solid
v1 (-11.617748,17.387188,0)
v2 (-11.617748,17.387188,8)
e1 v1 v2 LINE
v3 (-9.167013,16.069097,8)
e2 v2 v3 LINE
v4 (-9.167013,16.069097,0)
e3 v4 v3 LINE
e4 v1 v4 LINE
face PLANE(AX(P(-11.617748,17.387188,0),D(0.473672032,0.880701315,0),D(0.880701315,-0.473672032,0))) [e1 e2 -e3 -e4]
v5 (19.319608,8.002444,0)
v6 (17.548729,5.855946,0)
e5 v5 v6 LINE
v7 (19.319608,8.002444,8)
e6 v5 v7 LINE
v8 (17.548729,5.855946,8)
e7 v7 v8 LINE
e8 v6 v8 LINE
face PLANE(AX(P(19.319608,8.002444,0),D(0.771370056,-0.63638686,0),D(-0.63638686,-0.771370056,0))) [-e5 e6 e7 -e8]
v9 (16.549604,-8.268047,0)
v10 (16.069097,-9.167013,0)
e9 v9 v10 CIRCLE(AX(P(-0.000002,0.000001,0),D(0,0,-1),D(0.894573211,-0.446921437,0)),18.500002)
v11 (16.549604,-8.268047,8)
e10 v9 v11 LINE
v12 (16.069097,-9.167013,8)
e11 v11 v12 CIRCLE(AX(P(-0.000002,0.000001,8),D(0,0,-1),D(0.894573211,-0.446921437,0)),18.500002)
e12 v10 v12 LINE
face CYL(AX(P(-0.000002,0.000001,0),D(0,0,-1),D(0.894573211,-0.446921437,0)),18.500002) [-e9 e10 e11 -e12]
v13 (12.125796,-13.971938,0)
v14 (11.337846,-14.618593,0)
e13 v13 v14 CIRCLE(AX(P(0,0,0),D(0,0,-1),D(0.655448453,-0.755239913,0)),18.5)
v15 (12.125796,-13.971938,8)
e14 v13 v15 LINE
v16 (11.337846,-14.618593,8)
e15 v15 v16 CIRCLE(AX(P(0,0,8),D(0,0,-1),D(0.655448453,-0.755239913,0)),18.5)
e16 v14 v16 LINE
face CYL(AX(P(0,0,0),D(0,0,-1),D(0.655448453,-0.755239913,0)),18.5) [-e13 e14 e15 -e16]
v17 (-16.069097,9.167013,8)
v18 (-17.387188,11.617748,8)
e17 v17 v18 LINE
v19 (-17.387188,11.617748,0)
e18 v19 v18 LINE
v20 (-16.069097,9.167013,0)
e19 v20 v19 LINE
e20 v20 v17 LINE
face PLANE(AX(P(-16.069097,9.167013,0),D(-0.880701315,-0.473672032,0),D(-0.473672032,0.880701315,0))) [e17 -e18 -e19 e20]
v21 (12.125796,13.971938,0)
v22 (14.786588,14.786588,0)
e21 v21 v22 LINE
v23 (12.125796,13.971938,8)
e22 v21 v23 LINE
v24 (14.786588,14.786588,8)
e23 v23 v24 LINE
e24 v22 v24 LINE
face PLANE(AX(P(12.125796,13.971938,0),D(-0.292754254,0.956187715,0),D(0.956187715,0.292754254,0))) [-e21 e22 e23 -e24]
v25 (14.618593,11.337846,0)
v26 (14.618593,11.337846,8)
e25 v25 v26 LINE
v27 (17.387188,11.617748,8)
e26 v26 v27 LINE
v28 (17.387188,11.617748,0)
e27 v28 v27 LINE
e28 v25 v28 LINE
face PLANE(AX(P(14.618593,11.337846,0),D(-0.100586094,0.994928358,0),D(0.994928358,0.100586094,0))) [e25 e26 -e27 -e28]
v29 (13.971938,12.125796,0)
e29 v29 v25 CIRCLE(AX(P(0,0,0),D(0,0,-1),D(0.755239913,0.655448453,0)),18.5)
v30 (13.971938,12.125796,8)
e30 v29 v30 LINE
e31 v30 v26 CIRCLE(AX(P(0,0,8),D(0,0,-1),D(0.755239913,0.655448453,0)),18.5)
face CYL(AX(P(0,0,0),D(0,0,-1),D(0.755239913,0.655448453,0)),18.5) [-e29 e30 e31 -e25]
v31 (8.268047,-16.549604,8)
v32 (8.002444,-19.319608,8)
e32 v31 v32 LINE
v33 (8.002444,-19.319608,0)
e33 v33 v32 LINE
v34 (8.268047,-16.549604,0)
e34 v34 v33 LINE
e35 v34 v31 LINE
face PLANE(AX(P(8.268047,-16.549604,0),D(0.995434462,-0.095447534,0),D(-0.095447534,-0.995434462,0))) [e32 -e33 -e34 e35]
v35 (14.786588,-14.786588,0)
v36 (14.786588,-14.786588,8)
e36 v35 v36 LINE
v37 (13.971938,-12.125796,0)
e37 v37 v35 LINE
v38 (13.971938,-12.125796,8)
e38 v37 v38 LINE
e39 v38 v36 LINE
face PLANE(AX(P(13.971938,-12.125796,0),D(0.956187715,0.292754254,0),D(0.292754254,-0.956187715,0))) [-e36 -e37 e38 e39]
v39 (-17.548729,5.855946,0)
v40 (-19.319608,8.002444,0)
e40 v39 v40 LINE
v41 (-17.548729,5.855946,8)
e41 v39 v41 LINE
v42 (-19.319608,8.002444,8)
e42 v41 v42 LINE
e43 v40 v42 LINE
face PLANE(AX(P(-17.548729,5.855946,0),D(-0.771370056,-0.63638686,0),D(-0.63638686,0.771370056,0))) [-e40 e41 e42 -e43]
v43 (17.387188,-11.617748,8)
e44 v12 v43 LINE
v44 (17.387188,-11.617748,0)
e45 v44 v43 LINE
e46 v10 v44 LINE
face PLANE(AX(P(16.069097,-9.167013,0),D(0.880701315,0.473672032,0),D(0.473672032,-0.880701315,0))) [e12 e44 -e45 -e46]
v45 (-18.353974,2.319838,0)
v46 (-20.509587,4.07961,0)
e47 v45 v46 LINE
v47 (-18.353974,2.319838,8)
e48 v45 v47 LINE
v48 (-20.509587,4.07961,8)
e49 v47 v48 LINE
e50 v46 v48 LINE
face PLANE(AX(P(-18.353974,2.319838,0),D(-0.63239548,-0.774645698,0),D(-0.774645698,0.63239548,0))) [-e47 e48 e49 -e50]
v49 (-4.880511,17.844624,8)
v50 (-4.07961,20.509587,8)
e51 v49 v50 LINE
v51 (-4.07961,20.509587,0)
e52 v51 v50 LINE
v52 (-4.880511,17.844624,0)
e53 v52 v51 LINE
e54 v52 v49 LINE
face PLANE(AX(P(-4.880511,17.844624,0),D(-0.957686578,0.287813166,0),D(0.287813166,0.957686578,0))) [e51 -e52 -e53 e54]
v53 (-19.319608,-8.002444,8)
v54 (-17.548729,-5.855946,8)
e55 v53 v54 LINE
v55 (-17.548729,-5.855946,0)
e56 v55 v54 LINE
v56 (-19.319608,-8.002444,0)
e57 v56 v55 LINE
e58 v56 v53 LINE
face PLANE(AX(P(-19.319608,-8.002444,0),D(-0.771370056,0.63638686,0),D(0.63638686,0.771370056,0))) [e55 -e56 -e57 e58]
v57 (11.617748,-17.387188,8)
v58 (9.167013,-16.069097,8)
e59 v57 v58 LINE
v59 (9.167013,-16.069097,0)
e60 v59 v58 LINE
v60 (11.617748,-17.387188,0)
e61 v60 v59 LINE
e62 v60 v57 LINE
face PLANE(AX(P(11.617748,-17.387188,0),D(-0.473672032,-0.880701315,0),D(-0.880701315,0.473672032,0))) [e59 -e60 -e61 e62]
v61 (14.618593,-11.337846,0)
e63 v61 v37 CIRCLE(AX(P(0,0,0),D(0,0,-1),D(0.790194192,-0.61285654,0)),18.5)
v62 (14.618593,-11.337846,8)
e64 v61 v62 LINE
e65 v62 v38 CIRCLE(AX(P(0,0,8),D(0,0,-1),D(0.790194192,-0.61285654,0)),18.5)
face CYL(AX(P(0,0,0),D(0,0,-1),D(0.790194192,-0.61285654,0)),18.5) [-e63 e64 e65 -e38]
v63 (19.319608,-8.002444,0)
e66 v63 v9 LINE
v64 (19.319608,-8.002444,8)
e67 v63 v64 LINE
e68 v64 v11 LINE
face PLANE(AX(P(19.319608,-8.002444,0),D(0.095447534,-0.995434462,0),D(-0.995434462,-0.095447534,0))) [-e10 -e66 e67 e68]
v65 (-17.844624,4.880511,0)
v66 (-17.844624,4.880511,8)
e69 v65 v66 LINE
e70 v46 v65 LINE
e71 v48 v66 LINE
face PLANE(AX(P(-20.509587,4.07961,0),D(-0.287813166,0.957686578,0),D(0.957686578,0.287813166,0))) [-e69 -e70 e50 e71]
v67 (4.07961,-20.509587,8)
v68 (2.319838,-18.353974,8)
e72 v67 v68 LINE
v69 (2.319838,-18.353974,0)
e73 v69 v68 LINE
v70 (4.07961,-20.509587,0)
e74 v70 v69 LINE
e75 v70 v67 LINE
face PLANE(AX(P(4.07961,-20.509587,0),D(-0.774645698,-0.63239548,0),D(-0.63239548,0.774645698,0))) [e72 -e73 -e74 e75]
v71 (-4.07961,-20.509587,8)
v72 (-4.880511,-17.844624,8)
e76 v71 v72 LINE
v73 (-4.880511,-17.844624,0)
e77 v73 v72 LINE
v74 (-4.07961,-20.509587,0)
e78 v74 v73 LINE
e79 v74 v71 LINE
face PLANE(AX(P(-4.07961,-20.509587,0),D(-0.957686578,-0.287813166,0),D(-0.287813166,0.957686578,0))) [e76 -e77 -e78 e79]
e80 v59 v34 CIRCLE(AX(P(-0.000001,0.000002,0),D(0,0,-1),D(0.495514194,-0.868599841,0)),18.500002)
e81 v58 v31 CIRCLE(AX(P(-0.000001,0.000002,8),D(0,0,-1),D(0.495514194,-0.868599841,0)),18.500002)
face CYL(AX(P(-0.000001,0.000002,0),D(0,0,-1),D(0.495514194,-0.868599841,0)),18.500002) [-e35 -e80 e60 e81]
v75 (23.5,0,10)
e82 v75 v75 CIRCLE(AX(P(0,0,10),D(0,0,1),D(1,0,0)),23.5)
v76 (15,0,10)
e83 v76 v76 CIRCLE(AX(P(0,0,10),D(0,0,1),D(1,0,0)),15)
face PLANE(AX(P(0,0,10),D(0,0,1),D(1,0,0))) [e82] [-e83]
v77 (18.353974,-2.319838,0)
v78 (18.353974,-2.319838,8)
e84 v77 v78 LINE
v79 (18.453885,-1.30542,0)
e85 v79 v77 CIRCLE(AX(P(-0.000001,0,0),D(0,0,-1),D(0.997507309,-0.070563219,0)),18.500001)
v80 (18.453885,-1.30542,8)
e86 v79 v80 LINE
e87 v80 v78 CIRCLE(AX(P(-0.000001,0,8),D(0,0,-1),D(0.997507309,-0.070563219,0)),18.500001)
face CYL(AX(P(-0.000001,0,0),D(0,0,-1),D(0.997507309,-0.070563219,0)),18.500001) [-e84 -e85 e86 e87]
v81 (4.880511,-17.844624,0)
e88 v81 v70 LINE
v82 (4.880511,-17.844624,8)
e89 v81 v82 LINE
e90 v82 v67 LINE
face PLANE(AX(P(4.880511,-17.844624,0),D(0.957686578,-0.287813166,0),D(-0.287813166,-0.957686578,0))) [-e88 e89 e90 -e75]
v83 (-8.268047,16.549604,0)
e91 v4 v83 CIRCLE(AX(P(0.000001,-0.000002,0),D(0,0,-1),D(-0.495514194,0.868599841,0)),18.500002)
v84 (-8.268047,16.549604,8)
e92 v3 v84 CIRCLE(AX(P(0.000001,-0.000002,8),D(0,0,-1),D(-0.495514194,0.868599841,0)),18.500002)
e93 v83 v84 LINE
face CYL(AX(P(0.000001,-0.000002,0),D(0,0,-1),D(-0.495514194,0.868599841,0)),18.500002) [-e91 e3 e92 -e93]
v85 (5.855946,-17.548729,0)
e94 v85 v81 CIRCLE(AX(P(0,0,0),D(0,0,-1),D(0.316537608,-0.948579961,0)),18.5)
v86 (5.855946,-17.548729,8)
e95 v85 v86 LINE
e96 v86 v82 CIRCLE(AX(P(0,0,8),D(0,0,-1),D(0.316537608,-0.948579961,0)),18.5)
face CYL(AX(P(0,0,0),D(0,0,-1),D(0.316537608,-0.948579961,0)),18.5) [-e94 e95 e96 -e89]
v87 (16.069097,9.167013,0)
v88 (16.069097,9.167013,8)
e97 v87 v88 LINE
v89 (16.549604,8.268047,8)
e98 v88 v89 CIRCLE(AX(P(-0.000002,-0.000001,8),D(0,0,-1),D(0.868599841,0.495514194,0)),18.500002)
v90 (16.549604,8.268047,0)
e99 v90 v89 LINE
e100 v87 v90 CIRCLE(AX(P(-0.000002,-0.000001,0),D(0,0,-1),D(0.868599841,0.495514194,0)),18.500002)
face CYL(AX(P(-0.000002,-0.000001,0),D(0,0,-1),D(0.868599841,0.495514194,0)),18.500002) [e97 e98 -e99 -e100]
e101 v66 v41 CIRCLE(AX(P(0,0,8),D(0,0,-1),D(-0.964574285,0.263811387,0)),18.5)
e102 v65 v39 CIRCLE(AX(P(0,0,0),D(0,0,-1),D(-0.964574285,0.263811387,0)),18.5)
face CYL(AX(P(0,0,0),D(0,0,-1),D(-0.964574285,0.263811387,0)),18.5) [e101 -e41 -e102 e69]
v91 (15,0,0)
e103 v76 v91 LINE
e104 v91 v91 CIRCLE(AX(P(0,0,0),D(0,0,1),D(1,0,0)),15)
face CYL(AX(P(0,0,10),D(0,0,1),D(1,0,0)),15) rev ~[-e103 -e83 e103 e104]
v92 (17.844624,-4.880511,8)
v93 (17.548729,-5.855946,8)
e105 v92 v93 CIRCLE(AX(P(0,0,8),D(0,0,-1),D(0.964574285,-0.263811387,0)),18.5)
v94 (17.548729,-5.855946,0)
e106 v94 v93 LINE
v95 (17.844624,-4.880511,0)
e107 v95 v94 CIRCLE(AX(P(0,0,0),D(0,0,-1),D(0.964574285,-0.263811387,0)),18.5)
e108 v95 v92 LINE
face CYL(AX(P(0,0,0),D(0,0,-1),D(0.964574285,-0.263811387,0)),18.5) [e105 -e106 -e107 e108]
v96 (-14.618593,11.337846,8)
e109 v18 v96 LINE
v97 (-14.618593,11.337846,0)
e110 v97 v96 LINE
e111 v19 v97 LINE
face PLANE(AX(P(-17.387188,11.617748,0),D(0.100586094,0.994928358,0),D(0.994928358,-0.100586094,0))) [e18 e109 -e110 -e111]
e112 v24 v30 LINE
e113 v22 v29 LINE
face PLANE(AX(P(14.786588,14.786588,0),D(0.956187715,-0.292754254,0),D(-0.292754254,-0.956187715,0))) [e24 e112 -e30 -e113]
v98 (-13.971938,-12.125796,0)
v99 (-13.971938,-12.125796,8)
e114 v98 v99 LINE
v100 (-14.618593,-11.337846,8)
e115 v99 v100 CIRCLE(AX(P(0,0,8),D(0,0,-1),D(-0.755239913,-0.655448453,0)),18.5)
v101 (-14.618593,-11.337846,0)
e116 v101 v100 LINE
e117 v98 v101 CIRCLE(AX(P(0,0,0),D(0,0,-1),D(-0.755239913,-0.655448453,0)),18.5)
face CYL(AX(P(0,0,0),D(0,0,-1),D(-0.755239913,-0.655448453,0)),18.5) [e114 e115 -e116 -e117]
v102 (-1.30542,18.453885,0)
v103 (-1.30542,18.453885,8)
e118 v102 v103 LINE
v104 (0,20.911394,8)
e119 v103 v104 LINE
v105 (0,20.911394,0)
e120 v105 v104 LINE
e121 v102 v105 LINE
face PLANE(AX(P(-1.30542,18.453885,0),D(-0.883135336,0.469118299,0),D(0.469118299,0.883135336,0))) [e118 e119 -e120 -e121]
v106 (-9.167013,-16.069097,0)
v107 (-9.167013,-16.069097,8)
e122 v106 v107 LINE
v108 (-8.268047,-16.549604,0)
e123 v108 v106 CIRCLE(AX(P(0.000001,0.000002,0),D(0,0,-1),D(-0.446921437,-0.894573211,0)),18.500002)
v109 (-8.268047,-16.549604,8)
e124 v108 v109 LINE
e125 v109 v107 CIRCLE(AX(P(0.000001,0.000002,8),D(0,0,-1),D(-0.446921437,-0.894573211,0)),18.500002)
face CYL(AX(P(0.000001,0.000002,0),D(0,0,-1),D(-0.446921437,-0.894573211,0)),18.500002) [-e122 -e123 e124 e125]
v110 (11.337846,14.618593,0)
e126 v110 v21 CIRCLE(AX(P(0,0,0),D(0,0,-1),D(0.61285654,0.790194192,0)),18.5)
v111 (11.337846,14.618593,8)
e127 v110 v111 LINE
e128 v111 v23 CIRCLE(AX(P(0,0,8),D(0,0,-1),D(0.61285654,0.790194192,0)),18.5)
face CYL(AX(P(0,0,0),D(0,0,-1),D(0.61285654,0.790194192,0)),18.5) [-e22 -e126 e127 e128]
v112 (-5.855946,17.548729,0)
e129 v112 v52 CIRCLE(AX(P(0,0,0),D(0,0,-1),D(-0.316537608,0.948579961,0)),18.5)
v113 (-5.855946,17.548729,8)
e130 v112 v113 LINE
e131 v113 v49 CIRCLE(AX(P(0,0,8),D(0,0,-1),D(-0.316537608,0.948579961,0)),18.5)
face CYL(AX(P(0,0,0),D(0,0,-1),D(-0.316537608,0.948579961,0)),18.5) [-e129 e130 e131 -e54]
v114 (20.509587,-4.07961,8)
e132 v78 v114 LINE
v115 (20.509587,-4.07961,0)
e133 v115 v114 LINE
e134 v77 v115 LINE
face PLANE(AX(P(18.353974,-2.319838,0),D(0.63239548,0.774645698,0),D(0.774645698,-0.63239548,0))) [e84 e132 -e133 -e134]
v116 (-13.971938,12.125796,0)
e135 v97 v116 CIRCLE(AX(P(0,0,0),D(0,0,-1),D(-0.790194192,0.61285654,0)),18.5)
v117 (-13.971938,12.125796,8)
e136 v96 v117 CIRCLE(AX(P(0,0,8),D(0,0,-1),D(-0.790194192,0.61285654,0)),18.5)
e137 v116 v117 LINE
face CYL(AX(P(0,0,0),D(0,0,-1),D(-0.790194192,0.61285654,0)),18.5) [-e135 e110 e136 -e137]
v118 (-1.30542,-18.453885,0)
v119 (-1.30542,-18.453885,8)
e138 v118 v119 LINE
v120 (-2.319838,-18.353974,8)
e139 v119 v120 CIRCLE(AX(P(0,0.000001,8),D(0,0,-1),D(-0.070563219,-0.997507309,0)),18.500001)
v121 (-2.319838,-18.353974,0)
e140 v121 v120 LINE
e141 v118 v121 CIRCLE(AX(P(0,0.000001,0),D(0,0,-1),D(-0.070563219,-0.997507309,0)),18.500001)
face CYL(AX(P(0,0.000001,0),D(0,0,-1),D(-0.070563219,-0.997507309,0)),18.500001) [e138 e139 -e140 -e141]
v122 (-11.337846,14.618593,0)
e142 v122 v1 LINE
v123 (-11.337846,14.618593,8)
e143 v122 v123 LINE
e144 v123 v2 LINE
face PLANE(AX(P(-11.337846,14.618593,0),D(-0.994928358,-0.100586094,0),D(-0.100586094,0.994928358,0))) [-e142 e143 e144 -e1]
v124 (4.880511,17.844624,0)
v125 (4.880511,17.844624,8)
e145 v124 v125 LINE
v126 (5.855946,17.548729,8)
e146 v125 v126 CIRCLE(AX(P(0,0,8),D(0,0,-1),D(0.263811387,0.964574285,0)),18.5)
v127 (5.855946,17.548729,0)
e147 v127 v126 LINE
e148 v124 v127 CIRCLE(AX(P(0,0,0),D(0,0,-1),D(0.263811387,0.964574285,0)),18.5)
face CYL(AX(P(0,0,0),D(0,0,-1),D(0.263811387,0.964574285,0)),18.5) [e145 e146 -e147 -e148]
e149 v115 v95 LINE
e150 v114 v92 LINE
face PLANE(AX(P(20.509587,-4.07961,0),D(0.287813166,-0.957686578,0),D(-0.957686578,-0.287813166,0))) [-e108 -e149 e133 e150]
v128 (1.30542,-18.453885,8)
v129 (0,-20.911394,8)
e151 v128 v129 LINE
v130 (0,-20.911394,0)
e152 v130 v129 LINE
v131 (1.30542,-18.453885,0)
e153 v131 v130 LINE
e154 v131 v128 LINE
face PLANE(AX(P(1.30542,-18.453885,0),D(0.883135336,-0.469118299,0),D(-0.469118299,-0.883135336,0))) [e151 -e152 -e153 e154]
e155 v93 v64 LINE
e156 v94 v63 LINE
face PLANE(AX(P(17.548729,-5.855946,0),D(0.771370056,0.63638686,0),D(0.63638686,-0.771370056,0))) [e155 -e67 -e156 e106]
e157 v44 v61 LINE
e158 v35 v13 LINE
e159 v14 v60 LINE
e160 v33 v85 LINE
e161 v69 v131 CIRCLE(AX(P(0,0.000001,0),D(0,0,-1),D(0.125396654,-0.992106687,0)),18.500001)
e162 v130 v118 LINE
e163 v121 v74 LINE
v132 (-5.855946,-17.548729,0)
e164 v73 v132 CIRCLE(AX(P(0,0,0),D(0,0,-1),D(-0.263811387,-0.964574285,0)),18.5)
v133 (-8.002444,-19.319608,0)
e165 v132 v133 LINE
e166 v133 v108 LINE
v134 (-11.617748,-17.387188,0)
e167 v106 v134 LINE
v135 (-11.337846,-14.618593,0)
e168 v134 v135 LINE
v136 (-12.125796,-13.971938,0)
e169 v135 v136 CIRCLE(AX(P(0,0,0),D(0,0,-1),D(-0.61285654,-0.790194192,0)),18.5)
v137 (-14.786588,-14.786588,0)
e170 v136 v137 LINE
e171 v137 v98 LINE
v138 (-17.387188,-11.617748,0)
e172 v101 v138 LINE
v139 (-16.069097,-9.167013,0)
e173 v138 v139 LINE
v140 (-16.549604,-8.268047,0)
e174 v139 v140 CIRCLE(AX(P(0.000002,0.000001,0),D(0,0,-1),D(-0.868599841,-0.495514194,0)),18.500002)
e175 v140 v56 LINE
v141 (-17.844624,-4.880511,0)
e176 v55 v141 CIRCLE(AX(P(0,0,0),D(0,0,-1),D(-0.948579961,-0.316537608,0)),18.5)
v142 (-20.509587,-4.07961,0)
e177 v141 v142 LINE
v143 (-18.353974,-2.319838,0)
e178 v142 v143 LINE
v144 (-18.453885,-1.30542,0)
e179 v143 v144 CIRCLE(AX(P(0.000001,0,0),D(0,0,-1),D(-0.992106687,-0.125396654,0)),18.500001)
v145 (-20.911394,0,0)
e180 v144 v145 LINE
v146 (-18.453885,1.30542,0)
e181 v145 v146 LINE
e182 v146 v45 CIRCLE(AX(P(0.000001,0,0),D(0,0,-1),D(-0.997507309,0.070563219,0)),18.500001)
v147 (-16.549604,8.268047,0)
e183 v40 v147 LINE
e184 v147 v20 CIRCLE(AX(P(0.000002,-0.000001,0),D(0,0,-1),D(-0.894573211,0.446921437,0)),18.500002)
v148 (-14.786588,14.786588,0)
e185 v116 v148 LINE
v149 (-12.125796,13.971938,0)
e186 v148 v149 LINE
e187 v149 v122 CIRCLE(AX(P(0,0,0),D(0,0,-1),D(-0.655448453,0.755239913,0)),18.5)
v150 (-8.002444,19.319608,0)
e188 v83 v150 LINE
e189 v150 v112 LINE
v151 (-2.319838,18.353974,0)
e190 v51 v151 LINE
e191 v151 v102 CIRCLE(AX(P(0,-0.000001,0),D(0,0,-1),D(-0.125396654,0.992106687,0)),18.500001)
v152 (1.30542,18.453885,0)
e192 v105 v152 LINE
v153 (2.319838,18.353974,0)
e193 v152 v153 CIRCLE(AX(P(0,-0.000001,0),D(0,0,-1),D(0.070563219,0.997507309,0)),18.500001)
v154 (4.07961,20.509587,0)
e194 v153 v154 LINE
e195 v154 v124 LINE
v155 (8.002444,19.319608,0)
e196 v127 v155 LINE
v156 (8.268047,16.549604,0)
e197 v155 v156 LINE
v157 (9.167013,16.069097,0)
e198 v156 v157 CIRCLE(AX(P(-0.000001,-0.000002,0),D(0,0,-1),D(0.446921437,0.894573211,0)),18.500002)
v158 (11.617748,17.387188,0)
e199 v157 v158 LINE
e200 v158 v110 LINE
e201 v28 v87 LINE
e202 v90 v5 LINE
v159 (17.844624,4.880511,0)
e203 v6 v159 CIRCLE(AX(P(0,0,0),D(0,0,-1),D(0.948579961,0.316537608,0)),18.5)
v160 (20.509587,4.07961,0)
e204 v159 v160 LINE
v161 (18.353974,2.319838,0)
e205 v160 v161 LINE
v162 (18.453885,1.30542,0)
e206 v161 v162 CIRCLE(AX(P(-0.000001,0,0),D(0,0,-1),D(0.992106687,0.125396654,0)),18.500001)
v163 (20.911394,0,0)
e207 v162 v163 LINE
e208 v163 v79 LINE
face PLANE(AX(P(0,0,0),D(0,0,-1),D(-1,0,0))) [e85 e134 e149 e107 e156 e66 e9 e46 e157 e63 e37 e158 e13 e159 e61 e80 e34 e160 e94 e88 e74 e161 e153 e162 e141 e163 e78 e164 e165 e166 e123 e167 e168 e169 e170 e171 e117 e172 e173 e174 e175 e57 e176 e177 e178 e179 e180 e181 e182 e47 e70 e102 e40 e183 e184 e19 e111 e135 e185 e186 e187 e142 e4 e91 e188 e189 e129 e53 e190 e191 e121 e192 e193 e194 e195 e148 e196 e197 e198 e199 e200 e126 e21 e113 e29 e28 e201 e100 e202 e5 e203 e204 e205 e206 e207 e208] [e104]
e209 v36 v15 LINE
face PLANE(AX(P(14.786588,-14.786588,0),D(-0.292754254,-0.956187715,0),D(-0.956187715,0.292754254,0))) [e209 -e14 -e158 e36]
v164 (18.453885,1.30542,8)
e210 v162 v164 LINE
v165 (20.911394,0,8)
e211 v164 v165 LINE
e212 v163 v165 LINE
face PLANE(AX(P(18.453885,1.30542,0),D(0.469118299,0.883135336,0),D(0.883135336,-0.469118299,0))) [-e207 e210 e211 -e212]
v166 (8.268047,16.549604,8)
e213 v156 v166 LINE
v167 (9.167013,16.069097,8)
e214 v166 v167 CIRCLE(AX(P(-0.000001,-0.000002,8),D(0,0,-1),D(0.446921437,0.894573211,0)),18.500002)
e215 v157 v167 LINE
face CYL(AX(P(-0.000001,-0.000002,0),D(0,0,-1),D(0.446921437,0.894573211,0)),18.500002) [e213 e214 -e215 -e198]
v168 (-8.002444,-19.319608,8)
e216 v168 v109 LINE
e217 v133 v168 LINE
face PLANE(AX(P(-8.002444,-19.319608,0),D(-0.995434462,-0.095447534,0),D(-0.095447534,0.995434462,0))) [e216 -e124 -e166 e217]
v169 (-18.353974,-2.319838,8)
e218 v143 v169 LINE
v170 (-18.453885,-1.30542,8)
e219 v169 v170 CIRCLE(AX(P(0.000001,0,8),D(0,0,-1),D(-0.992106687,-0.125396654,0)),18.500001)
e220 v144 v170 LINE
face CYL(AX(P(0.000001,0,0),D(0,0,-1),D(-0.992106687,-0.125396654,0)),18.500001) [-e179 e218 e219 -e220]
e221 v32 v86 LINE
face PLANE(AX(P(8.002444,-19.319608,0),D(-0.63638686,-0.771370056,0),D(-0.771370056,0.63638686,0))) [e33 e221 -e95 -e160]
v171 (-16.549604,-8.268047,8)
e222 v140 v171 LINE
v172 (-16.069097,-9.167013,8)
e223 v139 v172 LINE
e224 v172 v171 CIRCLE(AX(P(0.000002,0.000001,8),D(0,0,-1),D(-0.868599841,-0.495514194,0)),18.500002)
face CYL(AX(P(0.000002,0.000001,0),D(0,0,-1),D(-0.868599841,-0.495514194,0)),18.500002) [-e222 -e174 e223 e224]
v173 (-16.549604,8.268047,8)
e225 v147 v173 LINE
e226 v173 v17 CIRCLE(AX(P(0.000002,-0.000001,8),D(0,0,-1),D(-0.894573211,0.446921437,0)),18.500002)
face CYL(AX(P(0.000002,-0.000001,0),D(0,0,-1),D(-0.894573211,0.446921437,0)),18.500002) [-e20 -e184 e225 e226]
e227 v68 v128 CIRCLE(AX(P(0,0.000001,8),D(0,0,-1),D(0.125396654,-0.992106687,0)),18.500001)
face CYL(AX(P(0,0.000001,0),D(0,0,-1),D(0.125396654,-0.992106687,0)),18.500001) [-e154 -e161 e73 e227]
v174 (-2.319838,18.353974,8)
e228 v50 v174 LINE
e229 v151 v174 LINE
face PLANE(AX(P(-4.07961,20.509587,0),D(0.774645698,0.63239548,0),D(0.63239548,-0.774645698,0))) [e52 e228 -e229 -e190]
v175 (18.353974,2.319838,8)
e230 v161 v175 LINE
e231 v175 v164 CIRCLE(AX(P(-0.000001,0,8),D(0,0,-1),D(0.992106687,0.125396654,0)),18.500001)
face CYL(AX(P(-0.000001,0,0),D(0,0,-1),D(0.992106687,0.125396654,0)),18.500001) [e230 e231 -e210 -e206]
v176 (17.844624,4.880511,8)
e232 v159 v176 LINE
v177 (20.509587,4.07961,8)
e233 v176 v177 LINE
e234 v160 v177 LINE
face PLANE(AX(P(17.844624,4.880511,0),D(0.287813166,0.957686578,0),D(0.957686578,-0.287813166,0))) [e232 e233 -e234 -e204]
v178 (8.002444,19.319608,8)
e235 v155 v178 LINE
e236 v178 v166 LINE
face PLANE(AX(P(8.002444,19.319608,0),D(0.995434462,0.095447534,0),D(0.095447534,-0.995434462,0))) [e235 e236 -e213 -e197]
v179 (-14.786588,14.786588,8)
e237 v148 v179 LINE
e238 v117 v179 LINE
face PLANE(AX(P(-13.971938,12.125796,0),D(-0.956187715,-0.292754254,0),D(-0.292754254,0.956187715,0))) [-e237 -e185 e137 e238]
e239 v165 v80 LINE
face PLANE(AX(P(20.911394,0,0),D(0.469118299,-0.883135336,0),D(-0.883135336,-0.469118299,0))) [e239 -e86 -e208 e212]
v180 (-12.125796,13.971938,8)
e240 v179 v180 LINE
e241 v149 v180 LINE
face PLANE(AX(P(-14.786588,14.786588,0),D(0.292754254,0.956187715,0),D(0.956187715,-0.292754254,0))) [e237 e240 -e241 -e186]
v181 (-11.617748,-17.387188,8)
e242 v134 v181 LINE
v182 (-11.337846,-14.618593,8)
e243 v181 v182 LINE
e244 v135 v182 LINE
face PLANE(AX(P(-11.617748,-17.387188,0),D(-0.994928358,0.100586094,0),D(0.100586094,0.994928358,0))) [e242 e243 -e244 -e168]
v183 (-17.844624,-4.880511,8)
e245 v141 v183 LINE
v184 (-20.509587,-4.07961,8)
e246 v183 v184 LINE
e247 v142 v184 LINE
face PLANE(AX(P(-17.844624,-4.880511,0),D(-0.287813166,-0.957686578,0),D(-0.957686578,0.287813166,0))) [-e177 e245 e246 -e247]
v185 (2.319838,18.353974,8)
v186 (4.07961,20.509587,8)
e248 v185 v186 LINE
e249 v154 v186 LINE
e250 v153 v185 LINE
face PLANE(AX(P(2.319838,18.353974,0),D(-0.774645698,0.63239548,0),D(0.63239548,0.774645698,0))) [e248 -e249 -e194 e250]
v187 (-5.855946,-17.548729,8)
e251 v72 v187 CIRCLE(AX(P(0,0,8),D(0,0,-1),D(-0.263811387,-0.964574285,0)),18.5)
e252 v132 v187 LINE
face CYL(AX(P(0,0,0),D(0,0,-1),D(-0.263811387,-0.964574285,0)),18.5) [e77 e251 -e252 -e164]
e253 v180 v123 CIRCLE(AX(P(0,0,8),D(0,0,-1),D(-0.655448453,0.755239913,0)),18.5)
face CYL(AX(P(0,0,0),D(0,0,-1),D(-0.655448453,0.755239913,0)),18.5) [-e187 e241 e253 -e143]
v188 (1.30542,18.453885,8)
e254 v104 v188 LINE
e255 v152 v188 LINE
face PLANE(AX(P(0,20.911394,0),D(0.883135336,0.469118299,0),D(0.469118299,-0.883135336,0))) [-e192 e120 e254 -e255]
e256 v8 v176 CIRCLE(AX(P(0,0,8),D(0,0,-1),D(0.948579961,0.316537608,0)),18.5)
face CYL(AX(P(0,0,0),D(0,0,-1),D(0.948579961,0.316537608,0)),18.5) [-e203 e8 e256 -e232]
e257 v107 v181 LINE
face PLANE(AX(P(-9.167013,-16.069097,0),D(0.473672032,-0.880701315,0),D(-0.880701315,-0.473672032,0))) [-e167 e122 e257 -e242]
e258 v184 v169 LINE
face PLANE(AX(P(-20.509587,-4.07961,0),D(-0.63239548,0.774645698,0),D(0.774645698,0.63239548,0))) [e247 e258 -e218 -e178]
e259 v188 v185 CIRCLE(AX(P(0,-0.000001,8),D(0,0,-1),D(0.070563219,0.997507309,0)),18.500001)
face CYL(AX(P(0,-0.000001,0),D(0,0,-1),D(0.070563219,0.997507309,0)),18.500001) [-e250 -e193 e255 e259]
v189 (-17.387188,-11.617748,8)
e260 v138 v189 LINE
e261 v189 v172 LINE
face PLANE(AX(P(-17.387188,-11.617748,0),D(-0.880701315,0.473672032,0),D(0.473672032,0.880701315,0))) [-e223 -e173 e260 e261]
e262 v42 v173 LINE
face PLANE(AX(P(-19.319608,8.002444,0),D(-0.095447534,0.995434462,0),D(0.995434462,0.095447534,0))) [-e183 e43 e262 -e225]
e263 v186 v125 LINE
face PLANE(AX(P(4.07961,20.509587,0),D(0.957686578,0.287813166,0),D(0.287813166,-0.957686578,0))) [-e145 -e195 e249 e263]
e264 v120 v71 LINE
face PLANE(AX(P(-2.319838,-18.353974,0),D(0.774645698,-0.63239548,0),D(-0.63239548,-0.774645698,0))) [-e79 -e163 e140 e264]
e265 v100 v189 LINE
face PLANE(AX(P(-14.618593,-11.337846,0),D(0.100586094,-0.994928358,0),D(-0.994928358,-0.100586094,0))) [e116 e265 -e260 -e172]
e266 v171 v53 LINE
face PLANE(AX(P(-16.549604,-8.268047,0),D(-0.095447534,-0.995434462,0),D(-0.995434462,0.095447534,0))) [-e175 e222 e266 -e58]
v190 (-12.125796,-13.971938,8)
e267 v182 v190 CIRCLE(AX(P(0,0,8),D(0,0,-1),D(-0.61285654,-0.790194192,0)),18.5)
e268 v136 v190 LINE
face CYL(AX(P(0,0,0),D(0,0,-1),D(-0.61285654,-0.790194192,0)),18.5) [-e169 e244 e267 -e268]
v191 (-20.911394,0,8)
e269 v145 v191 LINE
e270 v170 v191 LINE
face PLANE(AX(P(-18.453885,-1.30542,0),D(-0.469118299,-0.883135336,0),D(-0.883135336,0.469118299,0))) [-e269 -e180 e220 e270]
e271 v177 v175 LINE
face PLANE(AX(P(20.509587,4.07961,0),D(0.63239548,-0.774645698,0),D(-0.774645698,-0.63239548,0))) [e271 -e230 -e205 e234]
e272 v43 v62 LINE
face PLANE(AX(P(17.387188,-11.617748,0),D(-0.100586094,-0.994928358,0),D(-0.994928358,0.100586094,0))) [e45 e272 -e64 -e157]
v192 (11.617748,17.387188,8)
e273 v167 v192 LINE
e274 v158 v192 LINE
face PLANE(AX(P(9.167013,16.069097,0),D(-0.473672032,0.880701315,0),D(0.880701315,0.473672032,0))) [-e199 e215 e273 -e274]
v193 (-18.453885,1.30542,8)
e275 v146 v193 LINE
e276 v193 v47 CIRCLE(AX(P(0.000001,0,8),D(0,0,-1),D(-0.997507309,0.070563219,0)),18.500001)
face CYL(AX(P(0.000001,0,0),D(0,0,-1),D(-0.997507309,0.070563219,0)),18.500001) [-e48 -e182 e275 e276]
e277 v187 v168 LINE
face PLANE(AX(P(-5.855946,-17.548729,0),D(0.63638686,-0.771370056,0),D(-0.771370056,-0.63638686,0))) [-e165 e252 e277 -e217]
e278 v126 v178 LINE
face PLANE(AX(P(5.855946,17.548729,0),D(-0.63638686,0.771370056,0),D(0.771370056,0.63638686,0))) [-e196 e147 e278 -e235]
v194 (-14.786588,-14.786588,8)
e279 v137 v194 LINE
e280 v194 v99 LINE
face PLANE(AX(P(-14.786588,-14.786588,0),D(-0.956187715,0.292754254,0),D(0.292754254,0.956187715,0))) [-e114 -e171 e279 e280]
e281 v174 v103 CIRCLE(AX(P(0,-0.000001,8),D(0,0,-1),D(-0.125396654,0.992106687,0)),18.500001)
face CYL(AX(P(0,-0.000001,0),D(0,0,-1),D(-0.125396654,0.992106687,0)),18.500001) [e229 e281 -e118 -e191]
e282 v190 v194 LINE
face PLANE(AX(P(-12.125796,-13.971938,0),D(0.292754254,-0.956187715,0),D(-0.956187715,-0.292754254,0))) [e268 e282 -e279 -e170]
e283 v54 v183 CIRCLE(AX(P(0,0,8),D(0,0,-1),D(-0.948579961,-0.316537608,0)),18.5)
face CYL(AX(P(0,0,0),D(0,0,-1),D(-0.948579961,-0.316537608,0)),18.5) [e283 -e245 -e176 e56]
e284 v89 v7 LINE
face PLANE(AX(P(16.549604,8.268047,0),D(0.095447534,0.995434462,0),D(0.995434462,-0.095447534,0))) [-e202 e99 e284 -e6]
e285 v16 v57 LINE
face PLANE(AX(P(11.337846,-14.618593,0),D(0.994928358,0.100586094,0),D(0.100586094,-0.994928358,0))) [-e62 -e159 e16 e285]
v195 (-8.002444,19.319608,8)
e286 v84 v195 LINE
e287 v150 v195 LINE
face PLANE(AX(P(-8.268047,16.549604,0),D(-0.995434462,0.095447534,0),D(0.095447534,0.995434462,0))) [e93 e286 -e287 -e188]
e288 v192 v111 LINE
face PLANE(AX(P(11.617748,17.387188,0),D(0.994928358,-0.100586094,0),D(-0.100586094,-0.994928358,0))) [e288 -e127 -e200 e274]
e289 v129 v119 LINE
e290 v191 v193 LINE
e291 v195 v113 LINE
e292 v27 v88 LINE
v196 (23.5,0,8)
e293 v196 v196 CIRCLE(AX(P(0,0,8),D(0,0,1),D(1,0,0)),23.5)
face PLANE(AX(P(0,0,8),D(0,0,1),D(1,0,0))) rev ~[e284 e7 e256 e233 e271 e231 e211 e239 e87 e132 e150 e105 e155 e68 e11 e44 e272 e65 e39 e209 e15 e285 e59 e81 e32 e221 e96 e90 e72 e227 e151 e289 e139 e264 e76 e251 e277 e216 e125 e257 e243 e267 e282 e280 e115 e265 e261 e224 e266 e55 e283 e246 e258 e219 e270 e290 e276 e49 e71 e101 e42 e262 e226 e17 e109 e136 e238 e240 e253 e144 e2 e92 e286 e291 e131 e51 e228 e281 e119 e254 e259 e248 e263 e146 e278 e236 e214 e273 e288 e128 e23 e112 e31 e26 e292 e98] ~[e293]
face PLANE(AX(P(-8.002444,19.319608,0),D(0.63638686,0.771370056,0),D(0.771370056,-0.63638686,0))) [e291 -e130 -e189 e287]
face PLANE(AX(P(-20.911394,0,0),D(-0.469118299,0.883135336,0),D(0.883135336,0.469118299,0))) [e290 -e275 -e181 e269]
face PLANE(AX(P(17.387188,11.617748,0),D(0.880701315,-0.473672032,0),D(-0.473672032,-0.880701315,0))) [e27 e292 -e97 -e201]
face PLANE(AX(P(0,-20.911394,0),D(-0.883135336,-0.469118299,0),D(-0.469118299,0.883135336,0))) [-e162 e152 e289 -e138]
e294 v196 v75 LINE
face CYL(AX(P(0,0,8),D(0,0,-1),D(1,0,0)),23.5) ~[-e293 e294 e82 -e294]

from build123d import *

# Parameters (mm, degrees)
BOSS_EXTRUDE1_DEPTH = 8
SKETCH3_R           = 23.5
BOSS_EXTRUDE2_DEPTH = 2
SKETCH5_R           = 15
CUT_EXTRUDE2_DEPTH  = 12


with BuildPart() as part:
    # Sketch1 → Boss-Extrude1 (new body)
    with BuildSketch(Plane.XY):
        with BuildLine():
            Line((0, 20.911393532), (1.305419533, 18.453885223))
            ThreePointArc((1.305419533, 18.453885223), (1.813317096, 18.410917443), (2.319838147, 18.353973711))
            Line((2.319838147, 18.353973711), (4.079610498, 20.509586969))
            Line((4.079610498, 20.509586969), (4.880510674, 17.844624276))
            ThreePointArc((4.880510674, 17.844624276), (5.370266529, 17.703396211), (5.855945749, 17.548729281))
            Line((5.855945749, 17.548729281), (8.002443852, 19.319608481))
            Line((8.002443852, 19.319608481), (8.268046526, 16.549604426))
            ThreePointArc((8.268046526, 16.549604426), (8.720839631, 16.31554339), (9.16701264, 16.069097027))
            Line((9.16701264, 16.069097027), (11.617747778, 17.387188273))
            Line((11.617747778, 17.387188273), (11.337845987, 14.618592558))
            ThreePointArc((11.337845987, 14.618592558), (11.736275757, 14.300693387), (12.125796376, 13.971938385))
            Line((12.125796376, 13.971938385), (14.786588171, 14.786588171))
            Line((14.786588171, 14.786588171), (13.971938385, 12.125796376))
            ThreePointArc((13.971938385, 12.125796376), (14.300693387, 11.736275757), (14.618592558, 11.337845987))
            Line((14.618592558, 11.337845987), (17.387188273, 11.617747778))
            Line((17.387188273, 11.617747778), (16.069097027, 9.16701264))
            ThreePointArc((16.069097027, 9.16701264), (16.31554339, 8.720839631), (16.549604426, 8.268046526))
            Line((16.549604426, 8.268046526), (19.319608481, 8.002443852))
            Line((19.319608481, 8.002443852), (17.548729281, 5.855945749))
            ThreePointArc((17.548729281, 5.855945749), (17.703396211, 5.370266529), (17.844624276, 4.880510674))
            Line((17.844624276, 4.880510674), (20.509586969, 4.079610498))
            Line((20.509586969, 4.079610498), (18.353973711, 2.319838147))
            ThreePointArc((18.353973711, 2.319838147), (18.410917443, 1.813317096), (18.453885223, 1.305419533))
            Line((18.453885223, 1.305419533), (20.911393532, 0))
            Line((20.911393532, 0), (18.453885223, -1.305419533))
            ThreePointArc((18.453885223, -1.305419533), (18.410917443, -1.813317096), (18.353973711, -2.319838147))
            Line((18.353973711, -2.319838147), (20.509586969, -4.079610498))
            Line((20.509586969, -4.079610498), (17.844624276, -4.880510674))
            ThreePointArc((17.844624276, -4.880510674), (17.703396211, -5.370266529), (17.548729281, -5.855945749))
            Line((17.548729281, -5.855945749), (19.319608481, -8.002443852))
            Line((19.319608481, -8.002443852), (16.549604426, -8.268046526))
            ThreePointArc((16.549604426, -8.268046526), (16.31554339, -8.720839631), (16.069097027, -9.16701264))
            Line((16.069097027, -9.16701264), (17.387188273, -11.617747778))
            Line((17.387188273, -11.617747778), (14.618592558, -11.337845987))
            ThreePointArc((14.618592558, -11.337845987), (14.300693387, -11.736275757), (13.971938385, -12.125796376))
            Line((13.971938385, -12.125796376), (14.786588171, -14.786588171))
            Line((14.786588171, -14.786588171), (12.125796376, -13.971938385))
            ThreePointArc((12.125796376, -13.971938385), (11.736275757, -14.300693387), (11.337845987, -14.618592558))
            Line((11.337845987, -14.618592558), (11.617747778, -17.387188273))
            Line((11.617747778, -17.387188273), (9.16701264, -16.069097027))
            ThreePointArc((9.16701264, -16.069097027), (8.720839631, -16.31554339), (8.268046526, -16.549604426))
            Line((8.268046526, -16.549604426), (8.002443852, -19.319608481))
            Line((8.002443852, -19.319608481), (5.855945749, -17.548729281))
            ThreePointArc((5.855945749, -17.548729281), (5.370266529, -17.703396211), (4.880510674, -17.844624276))
            Line((4.880510674, -17.844624276), (4.079610498, -20.509586969))
            Line((4.079610498, -20.509586969), (2.319838147, -18.353973711))
            ThreePointArc((2.319838147, -18.353973711), (1.813317096, -18.410917443), (1.305419533, -18.453885223))
            Line((1.305419533, -18.453885223), (0, -20.911393532))
            Line((0, -20.911393532), (-1.305419533, -18.453885223))
            ThreePointArc((-1.305419533, -18.453885223), (-1.813317096, -18.410917443), (-2.319838147, -18.353973711))
            Line((-2.319838147, -18.353973711), (-4.079610498, -20.509586969))
            Line((-4.079610498, -20.509586969), (-4.880510674, -17.844624276))
            ThreePointArc((-4.880510674, -17.844624276), (-5.370266529, -17.703396211), (-5.855945749, -17.548729281))
            Line((-5.855945749, -17.548729281), (-8.002443852, -19.319608481))
            Line((-8.002443852, -19.319608481), (-8.268046526, -16.549604426))
            ThreePointArc((-8.268046526, -16.549604426), (-8.720839631, -16.31554339), (-9.16701264, -16.069097027))
            Line((-9.16701264, -16.069097027), (-11.617747778, -17.387188273))
            Line((-11.617747778, -17.387188273), (-11.337845987, -14.618592558))
            ThreePointArc((-11.337845987, -14.618592558), (-11.736275757, -14.300693387), (-12.125796376, -13.971938385))
            Line((-12.125796376, -13.971938385), (-14.786588171, -14.786588171))
            Line((-14.786588171, -14.786588171), (-13.971938385, -12.125796376))
            ThreePointArc((-13.971938385, -12.125796376), (-14.300693387, -11.736275757), (-14.618592558, -11.337845987))
            Line((-14.618592558, -11.337845987), (-17.387188273, -11.617747778))
            Line((-17.387188273, -11.617747778), (-16.069097027, -9.16701264))
            ThreePointArc((-16.069097027, -9.16701264), (-16.31554339, -8.720839631), (-16.549604426, -8.268046526))
            Line((-16.549604426, -8.268046526), (-19.319608481, -8.002443852))
            Line((-19.319608481, -8.002443852), (-17.548729281, -5.855945749))
            ThreePointArc((-17.548729281, -5.855945749), (-17.703396211, -5.370266529), (-17.844624276, -4.880510674))
            Line((-17.844624276, -4.880510674), (-20.509586969, -4.079610498))
            Line((-20.509586969, -4.079610498), (-18.353973711, -2.319838147))
            ThreePointArc((-18.353973711, -2.319838147), (-18.410917443, -1.813317096), (-18.453885223, -1.305419533))
            Line((-18.453885223, -1.305419533), (-20.911393532, 0))
            Line((-20.911393532, 0), (-18.453885223, 1.305419533))
            ThreePointArc((-18.453885223, 1.305419533), (-18.410917443, 1.813317096), (-18.353973711, 2.319838147))
            Line((-18.353973711, 2.319838147), (-20.509586969, 4.079610498))
            Line((-20.509586969, 4.079610498), (-17.844624276, 4.880510674))
            ThreePointArc((-17.844624276, 4.880510674), (-17.703396211, 5.370266529), (-17.548729281, 5.855945749))
            Line((-17.548729281, 5.855945749), (-19.319608481, 8.002443852))
            Line((-19.319608481, 8.002443852), (-16.549604426, 8.268046526))
            ThreePointArc((-16.549604426, 8.268046526), (-16.31554339, 8.720839631), (-16.069097027, 9.16701264))
            Line((-16.069097027, 9.16701264), (-17.387188273, 11.617747778))
            Line((-17.387188273, 11.617747778), (-14.618592558, 11.337845987))
            ThreePointArc((-14.618592558, 11.337845987), (-14.300693387, 11.736275757), (-13.971938385, 12.125796376))
            Line((-13.971938385, 12.125796376), (-14.786588171, 14.786588171))
            Line((-14.786588171, 14.786588171), (-12.125796376, 13.971938385))
            ThreePointArc((-12.125796376, 13.971938385), (-11.736275757, 14.300693387), (-11.337845987, 14.618592558))
            Line((-11.337845987, 14.618592558), (-11.617747778, 17.387188273))
            Line((-11.617747778, 17.387188273), (-9.16701264, 16.069097027))
            ThreePointArc((-9.16701264, 16.069097027), (-8.720839631, 16.31554339), (-8.268046526, 16.549604426))
            Line((-8.268046526, 16.549604426), (-8.002443852, 19.319608481))
            Line((-8.002443852, 19.319608481), (-5.855945749, 17.548729281))
            ThreePointArc((-5.855945749, 17.548729281), (-5.370266529, 17.703396211), (-4.880510674, 17.844624276))
            Line((-4.880510674, 17.844624276), (-4.079610498, 20.509586969))
            Line((-4.079610498, 20.509586969), (-2.319838147, 18.353973711))
            ThreePointArc((-2.319838147, 18.353973711), (-1.813317096, 18.410917443), (-1.305419533, 18.453885223))
            Line((-1.305419533, 18.453885223), (0, 20.911393532))
        make_face()
    extrude(amount=BOSS_EXTRUDE1_DEPTH)

    # Sketch3 → Boss-Extrude2 (add)
    with BuildSketch(Plane.XY.offset(8)):
        Circle(SKETCH3_R)
    extrude(amount=BOSS_EXTRUDE2_DEPTH)

    # Sketch5 → Cut-Extrude2 (cut)
    with BuildSketch(Plane.XY.offset(10)):
        Circle(SKETCH5_R)
    extrude(amount=-CUT_EXTRUDE2_DEPTH, mode=Mode.SUBTRACT)


solid = part.part
